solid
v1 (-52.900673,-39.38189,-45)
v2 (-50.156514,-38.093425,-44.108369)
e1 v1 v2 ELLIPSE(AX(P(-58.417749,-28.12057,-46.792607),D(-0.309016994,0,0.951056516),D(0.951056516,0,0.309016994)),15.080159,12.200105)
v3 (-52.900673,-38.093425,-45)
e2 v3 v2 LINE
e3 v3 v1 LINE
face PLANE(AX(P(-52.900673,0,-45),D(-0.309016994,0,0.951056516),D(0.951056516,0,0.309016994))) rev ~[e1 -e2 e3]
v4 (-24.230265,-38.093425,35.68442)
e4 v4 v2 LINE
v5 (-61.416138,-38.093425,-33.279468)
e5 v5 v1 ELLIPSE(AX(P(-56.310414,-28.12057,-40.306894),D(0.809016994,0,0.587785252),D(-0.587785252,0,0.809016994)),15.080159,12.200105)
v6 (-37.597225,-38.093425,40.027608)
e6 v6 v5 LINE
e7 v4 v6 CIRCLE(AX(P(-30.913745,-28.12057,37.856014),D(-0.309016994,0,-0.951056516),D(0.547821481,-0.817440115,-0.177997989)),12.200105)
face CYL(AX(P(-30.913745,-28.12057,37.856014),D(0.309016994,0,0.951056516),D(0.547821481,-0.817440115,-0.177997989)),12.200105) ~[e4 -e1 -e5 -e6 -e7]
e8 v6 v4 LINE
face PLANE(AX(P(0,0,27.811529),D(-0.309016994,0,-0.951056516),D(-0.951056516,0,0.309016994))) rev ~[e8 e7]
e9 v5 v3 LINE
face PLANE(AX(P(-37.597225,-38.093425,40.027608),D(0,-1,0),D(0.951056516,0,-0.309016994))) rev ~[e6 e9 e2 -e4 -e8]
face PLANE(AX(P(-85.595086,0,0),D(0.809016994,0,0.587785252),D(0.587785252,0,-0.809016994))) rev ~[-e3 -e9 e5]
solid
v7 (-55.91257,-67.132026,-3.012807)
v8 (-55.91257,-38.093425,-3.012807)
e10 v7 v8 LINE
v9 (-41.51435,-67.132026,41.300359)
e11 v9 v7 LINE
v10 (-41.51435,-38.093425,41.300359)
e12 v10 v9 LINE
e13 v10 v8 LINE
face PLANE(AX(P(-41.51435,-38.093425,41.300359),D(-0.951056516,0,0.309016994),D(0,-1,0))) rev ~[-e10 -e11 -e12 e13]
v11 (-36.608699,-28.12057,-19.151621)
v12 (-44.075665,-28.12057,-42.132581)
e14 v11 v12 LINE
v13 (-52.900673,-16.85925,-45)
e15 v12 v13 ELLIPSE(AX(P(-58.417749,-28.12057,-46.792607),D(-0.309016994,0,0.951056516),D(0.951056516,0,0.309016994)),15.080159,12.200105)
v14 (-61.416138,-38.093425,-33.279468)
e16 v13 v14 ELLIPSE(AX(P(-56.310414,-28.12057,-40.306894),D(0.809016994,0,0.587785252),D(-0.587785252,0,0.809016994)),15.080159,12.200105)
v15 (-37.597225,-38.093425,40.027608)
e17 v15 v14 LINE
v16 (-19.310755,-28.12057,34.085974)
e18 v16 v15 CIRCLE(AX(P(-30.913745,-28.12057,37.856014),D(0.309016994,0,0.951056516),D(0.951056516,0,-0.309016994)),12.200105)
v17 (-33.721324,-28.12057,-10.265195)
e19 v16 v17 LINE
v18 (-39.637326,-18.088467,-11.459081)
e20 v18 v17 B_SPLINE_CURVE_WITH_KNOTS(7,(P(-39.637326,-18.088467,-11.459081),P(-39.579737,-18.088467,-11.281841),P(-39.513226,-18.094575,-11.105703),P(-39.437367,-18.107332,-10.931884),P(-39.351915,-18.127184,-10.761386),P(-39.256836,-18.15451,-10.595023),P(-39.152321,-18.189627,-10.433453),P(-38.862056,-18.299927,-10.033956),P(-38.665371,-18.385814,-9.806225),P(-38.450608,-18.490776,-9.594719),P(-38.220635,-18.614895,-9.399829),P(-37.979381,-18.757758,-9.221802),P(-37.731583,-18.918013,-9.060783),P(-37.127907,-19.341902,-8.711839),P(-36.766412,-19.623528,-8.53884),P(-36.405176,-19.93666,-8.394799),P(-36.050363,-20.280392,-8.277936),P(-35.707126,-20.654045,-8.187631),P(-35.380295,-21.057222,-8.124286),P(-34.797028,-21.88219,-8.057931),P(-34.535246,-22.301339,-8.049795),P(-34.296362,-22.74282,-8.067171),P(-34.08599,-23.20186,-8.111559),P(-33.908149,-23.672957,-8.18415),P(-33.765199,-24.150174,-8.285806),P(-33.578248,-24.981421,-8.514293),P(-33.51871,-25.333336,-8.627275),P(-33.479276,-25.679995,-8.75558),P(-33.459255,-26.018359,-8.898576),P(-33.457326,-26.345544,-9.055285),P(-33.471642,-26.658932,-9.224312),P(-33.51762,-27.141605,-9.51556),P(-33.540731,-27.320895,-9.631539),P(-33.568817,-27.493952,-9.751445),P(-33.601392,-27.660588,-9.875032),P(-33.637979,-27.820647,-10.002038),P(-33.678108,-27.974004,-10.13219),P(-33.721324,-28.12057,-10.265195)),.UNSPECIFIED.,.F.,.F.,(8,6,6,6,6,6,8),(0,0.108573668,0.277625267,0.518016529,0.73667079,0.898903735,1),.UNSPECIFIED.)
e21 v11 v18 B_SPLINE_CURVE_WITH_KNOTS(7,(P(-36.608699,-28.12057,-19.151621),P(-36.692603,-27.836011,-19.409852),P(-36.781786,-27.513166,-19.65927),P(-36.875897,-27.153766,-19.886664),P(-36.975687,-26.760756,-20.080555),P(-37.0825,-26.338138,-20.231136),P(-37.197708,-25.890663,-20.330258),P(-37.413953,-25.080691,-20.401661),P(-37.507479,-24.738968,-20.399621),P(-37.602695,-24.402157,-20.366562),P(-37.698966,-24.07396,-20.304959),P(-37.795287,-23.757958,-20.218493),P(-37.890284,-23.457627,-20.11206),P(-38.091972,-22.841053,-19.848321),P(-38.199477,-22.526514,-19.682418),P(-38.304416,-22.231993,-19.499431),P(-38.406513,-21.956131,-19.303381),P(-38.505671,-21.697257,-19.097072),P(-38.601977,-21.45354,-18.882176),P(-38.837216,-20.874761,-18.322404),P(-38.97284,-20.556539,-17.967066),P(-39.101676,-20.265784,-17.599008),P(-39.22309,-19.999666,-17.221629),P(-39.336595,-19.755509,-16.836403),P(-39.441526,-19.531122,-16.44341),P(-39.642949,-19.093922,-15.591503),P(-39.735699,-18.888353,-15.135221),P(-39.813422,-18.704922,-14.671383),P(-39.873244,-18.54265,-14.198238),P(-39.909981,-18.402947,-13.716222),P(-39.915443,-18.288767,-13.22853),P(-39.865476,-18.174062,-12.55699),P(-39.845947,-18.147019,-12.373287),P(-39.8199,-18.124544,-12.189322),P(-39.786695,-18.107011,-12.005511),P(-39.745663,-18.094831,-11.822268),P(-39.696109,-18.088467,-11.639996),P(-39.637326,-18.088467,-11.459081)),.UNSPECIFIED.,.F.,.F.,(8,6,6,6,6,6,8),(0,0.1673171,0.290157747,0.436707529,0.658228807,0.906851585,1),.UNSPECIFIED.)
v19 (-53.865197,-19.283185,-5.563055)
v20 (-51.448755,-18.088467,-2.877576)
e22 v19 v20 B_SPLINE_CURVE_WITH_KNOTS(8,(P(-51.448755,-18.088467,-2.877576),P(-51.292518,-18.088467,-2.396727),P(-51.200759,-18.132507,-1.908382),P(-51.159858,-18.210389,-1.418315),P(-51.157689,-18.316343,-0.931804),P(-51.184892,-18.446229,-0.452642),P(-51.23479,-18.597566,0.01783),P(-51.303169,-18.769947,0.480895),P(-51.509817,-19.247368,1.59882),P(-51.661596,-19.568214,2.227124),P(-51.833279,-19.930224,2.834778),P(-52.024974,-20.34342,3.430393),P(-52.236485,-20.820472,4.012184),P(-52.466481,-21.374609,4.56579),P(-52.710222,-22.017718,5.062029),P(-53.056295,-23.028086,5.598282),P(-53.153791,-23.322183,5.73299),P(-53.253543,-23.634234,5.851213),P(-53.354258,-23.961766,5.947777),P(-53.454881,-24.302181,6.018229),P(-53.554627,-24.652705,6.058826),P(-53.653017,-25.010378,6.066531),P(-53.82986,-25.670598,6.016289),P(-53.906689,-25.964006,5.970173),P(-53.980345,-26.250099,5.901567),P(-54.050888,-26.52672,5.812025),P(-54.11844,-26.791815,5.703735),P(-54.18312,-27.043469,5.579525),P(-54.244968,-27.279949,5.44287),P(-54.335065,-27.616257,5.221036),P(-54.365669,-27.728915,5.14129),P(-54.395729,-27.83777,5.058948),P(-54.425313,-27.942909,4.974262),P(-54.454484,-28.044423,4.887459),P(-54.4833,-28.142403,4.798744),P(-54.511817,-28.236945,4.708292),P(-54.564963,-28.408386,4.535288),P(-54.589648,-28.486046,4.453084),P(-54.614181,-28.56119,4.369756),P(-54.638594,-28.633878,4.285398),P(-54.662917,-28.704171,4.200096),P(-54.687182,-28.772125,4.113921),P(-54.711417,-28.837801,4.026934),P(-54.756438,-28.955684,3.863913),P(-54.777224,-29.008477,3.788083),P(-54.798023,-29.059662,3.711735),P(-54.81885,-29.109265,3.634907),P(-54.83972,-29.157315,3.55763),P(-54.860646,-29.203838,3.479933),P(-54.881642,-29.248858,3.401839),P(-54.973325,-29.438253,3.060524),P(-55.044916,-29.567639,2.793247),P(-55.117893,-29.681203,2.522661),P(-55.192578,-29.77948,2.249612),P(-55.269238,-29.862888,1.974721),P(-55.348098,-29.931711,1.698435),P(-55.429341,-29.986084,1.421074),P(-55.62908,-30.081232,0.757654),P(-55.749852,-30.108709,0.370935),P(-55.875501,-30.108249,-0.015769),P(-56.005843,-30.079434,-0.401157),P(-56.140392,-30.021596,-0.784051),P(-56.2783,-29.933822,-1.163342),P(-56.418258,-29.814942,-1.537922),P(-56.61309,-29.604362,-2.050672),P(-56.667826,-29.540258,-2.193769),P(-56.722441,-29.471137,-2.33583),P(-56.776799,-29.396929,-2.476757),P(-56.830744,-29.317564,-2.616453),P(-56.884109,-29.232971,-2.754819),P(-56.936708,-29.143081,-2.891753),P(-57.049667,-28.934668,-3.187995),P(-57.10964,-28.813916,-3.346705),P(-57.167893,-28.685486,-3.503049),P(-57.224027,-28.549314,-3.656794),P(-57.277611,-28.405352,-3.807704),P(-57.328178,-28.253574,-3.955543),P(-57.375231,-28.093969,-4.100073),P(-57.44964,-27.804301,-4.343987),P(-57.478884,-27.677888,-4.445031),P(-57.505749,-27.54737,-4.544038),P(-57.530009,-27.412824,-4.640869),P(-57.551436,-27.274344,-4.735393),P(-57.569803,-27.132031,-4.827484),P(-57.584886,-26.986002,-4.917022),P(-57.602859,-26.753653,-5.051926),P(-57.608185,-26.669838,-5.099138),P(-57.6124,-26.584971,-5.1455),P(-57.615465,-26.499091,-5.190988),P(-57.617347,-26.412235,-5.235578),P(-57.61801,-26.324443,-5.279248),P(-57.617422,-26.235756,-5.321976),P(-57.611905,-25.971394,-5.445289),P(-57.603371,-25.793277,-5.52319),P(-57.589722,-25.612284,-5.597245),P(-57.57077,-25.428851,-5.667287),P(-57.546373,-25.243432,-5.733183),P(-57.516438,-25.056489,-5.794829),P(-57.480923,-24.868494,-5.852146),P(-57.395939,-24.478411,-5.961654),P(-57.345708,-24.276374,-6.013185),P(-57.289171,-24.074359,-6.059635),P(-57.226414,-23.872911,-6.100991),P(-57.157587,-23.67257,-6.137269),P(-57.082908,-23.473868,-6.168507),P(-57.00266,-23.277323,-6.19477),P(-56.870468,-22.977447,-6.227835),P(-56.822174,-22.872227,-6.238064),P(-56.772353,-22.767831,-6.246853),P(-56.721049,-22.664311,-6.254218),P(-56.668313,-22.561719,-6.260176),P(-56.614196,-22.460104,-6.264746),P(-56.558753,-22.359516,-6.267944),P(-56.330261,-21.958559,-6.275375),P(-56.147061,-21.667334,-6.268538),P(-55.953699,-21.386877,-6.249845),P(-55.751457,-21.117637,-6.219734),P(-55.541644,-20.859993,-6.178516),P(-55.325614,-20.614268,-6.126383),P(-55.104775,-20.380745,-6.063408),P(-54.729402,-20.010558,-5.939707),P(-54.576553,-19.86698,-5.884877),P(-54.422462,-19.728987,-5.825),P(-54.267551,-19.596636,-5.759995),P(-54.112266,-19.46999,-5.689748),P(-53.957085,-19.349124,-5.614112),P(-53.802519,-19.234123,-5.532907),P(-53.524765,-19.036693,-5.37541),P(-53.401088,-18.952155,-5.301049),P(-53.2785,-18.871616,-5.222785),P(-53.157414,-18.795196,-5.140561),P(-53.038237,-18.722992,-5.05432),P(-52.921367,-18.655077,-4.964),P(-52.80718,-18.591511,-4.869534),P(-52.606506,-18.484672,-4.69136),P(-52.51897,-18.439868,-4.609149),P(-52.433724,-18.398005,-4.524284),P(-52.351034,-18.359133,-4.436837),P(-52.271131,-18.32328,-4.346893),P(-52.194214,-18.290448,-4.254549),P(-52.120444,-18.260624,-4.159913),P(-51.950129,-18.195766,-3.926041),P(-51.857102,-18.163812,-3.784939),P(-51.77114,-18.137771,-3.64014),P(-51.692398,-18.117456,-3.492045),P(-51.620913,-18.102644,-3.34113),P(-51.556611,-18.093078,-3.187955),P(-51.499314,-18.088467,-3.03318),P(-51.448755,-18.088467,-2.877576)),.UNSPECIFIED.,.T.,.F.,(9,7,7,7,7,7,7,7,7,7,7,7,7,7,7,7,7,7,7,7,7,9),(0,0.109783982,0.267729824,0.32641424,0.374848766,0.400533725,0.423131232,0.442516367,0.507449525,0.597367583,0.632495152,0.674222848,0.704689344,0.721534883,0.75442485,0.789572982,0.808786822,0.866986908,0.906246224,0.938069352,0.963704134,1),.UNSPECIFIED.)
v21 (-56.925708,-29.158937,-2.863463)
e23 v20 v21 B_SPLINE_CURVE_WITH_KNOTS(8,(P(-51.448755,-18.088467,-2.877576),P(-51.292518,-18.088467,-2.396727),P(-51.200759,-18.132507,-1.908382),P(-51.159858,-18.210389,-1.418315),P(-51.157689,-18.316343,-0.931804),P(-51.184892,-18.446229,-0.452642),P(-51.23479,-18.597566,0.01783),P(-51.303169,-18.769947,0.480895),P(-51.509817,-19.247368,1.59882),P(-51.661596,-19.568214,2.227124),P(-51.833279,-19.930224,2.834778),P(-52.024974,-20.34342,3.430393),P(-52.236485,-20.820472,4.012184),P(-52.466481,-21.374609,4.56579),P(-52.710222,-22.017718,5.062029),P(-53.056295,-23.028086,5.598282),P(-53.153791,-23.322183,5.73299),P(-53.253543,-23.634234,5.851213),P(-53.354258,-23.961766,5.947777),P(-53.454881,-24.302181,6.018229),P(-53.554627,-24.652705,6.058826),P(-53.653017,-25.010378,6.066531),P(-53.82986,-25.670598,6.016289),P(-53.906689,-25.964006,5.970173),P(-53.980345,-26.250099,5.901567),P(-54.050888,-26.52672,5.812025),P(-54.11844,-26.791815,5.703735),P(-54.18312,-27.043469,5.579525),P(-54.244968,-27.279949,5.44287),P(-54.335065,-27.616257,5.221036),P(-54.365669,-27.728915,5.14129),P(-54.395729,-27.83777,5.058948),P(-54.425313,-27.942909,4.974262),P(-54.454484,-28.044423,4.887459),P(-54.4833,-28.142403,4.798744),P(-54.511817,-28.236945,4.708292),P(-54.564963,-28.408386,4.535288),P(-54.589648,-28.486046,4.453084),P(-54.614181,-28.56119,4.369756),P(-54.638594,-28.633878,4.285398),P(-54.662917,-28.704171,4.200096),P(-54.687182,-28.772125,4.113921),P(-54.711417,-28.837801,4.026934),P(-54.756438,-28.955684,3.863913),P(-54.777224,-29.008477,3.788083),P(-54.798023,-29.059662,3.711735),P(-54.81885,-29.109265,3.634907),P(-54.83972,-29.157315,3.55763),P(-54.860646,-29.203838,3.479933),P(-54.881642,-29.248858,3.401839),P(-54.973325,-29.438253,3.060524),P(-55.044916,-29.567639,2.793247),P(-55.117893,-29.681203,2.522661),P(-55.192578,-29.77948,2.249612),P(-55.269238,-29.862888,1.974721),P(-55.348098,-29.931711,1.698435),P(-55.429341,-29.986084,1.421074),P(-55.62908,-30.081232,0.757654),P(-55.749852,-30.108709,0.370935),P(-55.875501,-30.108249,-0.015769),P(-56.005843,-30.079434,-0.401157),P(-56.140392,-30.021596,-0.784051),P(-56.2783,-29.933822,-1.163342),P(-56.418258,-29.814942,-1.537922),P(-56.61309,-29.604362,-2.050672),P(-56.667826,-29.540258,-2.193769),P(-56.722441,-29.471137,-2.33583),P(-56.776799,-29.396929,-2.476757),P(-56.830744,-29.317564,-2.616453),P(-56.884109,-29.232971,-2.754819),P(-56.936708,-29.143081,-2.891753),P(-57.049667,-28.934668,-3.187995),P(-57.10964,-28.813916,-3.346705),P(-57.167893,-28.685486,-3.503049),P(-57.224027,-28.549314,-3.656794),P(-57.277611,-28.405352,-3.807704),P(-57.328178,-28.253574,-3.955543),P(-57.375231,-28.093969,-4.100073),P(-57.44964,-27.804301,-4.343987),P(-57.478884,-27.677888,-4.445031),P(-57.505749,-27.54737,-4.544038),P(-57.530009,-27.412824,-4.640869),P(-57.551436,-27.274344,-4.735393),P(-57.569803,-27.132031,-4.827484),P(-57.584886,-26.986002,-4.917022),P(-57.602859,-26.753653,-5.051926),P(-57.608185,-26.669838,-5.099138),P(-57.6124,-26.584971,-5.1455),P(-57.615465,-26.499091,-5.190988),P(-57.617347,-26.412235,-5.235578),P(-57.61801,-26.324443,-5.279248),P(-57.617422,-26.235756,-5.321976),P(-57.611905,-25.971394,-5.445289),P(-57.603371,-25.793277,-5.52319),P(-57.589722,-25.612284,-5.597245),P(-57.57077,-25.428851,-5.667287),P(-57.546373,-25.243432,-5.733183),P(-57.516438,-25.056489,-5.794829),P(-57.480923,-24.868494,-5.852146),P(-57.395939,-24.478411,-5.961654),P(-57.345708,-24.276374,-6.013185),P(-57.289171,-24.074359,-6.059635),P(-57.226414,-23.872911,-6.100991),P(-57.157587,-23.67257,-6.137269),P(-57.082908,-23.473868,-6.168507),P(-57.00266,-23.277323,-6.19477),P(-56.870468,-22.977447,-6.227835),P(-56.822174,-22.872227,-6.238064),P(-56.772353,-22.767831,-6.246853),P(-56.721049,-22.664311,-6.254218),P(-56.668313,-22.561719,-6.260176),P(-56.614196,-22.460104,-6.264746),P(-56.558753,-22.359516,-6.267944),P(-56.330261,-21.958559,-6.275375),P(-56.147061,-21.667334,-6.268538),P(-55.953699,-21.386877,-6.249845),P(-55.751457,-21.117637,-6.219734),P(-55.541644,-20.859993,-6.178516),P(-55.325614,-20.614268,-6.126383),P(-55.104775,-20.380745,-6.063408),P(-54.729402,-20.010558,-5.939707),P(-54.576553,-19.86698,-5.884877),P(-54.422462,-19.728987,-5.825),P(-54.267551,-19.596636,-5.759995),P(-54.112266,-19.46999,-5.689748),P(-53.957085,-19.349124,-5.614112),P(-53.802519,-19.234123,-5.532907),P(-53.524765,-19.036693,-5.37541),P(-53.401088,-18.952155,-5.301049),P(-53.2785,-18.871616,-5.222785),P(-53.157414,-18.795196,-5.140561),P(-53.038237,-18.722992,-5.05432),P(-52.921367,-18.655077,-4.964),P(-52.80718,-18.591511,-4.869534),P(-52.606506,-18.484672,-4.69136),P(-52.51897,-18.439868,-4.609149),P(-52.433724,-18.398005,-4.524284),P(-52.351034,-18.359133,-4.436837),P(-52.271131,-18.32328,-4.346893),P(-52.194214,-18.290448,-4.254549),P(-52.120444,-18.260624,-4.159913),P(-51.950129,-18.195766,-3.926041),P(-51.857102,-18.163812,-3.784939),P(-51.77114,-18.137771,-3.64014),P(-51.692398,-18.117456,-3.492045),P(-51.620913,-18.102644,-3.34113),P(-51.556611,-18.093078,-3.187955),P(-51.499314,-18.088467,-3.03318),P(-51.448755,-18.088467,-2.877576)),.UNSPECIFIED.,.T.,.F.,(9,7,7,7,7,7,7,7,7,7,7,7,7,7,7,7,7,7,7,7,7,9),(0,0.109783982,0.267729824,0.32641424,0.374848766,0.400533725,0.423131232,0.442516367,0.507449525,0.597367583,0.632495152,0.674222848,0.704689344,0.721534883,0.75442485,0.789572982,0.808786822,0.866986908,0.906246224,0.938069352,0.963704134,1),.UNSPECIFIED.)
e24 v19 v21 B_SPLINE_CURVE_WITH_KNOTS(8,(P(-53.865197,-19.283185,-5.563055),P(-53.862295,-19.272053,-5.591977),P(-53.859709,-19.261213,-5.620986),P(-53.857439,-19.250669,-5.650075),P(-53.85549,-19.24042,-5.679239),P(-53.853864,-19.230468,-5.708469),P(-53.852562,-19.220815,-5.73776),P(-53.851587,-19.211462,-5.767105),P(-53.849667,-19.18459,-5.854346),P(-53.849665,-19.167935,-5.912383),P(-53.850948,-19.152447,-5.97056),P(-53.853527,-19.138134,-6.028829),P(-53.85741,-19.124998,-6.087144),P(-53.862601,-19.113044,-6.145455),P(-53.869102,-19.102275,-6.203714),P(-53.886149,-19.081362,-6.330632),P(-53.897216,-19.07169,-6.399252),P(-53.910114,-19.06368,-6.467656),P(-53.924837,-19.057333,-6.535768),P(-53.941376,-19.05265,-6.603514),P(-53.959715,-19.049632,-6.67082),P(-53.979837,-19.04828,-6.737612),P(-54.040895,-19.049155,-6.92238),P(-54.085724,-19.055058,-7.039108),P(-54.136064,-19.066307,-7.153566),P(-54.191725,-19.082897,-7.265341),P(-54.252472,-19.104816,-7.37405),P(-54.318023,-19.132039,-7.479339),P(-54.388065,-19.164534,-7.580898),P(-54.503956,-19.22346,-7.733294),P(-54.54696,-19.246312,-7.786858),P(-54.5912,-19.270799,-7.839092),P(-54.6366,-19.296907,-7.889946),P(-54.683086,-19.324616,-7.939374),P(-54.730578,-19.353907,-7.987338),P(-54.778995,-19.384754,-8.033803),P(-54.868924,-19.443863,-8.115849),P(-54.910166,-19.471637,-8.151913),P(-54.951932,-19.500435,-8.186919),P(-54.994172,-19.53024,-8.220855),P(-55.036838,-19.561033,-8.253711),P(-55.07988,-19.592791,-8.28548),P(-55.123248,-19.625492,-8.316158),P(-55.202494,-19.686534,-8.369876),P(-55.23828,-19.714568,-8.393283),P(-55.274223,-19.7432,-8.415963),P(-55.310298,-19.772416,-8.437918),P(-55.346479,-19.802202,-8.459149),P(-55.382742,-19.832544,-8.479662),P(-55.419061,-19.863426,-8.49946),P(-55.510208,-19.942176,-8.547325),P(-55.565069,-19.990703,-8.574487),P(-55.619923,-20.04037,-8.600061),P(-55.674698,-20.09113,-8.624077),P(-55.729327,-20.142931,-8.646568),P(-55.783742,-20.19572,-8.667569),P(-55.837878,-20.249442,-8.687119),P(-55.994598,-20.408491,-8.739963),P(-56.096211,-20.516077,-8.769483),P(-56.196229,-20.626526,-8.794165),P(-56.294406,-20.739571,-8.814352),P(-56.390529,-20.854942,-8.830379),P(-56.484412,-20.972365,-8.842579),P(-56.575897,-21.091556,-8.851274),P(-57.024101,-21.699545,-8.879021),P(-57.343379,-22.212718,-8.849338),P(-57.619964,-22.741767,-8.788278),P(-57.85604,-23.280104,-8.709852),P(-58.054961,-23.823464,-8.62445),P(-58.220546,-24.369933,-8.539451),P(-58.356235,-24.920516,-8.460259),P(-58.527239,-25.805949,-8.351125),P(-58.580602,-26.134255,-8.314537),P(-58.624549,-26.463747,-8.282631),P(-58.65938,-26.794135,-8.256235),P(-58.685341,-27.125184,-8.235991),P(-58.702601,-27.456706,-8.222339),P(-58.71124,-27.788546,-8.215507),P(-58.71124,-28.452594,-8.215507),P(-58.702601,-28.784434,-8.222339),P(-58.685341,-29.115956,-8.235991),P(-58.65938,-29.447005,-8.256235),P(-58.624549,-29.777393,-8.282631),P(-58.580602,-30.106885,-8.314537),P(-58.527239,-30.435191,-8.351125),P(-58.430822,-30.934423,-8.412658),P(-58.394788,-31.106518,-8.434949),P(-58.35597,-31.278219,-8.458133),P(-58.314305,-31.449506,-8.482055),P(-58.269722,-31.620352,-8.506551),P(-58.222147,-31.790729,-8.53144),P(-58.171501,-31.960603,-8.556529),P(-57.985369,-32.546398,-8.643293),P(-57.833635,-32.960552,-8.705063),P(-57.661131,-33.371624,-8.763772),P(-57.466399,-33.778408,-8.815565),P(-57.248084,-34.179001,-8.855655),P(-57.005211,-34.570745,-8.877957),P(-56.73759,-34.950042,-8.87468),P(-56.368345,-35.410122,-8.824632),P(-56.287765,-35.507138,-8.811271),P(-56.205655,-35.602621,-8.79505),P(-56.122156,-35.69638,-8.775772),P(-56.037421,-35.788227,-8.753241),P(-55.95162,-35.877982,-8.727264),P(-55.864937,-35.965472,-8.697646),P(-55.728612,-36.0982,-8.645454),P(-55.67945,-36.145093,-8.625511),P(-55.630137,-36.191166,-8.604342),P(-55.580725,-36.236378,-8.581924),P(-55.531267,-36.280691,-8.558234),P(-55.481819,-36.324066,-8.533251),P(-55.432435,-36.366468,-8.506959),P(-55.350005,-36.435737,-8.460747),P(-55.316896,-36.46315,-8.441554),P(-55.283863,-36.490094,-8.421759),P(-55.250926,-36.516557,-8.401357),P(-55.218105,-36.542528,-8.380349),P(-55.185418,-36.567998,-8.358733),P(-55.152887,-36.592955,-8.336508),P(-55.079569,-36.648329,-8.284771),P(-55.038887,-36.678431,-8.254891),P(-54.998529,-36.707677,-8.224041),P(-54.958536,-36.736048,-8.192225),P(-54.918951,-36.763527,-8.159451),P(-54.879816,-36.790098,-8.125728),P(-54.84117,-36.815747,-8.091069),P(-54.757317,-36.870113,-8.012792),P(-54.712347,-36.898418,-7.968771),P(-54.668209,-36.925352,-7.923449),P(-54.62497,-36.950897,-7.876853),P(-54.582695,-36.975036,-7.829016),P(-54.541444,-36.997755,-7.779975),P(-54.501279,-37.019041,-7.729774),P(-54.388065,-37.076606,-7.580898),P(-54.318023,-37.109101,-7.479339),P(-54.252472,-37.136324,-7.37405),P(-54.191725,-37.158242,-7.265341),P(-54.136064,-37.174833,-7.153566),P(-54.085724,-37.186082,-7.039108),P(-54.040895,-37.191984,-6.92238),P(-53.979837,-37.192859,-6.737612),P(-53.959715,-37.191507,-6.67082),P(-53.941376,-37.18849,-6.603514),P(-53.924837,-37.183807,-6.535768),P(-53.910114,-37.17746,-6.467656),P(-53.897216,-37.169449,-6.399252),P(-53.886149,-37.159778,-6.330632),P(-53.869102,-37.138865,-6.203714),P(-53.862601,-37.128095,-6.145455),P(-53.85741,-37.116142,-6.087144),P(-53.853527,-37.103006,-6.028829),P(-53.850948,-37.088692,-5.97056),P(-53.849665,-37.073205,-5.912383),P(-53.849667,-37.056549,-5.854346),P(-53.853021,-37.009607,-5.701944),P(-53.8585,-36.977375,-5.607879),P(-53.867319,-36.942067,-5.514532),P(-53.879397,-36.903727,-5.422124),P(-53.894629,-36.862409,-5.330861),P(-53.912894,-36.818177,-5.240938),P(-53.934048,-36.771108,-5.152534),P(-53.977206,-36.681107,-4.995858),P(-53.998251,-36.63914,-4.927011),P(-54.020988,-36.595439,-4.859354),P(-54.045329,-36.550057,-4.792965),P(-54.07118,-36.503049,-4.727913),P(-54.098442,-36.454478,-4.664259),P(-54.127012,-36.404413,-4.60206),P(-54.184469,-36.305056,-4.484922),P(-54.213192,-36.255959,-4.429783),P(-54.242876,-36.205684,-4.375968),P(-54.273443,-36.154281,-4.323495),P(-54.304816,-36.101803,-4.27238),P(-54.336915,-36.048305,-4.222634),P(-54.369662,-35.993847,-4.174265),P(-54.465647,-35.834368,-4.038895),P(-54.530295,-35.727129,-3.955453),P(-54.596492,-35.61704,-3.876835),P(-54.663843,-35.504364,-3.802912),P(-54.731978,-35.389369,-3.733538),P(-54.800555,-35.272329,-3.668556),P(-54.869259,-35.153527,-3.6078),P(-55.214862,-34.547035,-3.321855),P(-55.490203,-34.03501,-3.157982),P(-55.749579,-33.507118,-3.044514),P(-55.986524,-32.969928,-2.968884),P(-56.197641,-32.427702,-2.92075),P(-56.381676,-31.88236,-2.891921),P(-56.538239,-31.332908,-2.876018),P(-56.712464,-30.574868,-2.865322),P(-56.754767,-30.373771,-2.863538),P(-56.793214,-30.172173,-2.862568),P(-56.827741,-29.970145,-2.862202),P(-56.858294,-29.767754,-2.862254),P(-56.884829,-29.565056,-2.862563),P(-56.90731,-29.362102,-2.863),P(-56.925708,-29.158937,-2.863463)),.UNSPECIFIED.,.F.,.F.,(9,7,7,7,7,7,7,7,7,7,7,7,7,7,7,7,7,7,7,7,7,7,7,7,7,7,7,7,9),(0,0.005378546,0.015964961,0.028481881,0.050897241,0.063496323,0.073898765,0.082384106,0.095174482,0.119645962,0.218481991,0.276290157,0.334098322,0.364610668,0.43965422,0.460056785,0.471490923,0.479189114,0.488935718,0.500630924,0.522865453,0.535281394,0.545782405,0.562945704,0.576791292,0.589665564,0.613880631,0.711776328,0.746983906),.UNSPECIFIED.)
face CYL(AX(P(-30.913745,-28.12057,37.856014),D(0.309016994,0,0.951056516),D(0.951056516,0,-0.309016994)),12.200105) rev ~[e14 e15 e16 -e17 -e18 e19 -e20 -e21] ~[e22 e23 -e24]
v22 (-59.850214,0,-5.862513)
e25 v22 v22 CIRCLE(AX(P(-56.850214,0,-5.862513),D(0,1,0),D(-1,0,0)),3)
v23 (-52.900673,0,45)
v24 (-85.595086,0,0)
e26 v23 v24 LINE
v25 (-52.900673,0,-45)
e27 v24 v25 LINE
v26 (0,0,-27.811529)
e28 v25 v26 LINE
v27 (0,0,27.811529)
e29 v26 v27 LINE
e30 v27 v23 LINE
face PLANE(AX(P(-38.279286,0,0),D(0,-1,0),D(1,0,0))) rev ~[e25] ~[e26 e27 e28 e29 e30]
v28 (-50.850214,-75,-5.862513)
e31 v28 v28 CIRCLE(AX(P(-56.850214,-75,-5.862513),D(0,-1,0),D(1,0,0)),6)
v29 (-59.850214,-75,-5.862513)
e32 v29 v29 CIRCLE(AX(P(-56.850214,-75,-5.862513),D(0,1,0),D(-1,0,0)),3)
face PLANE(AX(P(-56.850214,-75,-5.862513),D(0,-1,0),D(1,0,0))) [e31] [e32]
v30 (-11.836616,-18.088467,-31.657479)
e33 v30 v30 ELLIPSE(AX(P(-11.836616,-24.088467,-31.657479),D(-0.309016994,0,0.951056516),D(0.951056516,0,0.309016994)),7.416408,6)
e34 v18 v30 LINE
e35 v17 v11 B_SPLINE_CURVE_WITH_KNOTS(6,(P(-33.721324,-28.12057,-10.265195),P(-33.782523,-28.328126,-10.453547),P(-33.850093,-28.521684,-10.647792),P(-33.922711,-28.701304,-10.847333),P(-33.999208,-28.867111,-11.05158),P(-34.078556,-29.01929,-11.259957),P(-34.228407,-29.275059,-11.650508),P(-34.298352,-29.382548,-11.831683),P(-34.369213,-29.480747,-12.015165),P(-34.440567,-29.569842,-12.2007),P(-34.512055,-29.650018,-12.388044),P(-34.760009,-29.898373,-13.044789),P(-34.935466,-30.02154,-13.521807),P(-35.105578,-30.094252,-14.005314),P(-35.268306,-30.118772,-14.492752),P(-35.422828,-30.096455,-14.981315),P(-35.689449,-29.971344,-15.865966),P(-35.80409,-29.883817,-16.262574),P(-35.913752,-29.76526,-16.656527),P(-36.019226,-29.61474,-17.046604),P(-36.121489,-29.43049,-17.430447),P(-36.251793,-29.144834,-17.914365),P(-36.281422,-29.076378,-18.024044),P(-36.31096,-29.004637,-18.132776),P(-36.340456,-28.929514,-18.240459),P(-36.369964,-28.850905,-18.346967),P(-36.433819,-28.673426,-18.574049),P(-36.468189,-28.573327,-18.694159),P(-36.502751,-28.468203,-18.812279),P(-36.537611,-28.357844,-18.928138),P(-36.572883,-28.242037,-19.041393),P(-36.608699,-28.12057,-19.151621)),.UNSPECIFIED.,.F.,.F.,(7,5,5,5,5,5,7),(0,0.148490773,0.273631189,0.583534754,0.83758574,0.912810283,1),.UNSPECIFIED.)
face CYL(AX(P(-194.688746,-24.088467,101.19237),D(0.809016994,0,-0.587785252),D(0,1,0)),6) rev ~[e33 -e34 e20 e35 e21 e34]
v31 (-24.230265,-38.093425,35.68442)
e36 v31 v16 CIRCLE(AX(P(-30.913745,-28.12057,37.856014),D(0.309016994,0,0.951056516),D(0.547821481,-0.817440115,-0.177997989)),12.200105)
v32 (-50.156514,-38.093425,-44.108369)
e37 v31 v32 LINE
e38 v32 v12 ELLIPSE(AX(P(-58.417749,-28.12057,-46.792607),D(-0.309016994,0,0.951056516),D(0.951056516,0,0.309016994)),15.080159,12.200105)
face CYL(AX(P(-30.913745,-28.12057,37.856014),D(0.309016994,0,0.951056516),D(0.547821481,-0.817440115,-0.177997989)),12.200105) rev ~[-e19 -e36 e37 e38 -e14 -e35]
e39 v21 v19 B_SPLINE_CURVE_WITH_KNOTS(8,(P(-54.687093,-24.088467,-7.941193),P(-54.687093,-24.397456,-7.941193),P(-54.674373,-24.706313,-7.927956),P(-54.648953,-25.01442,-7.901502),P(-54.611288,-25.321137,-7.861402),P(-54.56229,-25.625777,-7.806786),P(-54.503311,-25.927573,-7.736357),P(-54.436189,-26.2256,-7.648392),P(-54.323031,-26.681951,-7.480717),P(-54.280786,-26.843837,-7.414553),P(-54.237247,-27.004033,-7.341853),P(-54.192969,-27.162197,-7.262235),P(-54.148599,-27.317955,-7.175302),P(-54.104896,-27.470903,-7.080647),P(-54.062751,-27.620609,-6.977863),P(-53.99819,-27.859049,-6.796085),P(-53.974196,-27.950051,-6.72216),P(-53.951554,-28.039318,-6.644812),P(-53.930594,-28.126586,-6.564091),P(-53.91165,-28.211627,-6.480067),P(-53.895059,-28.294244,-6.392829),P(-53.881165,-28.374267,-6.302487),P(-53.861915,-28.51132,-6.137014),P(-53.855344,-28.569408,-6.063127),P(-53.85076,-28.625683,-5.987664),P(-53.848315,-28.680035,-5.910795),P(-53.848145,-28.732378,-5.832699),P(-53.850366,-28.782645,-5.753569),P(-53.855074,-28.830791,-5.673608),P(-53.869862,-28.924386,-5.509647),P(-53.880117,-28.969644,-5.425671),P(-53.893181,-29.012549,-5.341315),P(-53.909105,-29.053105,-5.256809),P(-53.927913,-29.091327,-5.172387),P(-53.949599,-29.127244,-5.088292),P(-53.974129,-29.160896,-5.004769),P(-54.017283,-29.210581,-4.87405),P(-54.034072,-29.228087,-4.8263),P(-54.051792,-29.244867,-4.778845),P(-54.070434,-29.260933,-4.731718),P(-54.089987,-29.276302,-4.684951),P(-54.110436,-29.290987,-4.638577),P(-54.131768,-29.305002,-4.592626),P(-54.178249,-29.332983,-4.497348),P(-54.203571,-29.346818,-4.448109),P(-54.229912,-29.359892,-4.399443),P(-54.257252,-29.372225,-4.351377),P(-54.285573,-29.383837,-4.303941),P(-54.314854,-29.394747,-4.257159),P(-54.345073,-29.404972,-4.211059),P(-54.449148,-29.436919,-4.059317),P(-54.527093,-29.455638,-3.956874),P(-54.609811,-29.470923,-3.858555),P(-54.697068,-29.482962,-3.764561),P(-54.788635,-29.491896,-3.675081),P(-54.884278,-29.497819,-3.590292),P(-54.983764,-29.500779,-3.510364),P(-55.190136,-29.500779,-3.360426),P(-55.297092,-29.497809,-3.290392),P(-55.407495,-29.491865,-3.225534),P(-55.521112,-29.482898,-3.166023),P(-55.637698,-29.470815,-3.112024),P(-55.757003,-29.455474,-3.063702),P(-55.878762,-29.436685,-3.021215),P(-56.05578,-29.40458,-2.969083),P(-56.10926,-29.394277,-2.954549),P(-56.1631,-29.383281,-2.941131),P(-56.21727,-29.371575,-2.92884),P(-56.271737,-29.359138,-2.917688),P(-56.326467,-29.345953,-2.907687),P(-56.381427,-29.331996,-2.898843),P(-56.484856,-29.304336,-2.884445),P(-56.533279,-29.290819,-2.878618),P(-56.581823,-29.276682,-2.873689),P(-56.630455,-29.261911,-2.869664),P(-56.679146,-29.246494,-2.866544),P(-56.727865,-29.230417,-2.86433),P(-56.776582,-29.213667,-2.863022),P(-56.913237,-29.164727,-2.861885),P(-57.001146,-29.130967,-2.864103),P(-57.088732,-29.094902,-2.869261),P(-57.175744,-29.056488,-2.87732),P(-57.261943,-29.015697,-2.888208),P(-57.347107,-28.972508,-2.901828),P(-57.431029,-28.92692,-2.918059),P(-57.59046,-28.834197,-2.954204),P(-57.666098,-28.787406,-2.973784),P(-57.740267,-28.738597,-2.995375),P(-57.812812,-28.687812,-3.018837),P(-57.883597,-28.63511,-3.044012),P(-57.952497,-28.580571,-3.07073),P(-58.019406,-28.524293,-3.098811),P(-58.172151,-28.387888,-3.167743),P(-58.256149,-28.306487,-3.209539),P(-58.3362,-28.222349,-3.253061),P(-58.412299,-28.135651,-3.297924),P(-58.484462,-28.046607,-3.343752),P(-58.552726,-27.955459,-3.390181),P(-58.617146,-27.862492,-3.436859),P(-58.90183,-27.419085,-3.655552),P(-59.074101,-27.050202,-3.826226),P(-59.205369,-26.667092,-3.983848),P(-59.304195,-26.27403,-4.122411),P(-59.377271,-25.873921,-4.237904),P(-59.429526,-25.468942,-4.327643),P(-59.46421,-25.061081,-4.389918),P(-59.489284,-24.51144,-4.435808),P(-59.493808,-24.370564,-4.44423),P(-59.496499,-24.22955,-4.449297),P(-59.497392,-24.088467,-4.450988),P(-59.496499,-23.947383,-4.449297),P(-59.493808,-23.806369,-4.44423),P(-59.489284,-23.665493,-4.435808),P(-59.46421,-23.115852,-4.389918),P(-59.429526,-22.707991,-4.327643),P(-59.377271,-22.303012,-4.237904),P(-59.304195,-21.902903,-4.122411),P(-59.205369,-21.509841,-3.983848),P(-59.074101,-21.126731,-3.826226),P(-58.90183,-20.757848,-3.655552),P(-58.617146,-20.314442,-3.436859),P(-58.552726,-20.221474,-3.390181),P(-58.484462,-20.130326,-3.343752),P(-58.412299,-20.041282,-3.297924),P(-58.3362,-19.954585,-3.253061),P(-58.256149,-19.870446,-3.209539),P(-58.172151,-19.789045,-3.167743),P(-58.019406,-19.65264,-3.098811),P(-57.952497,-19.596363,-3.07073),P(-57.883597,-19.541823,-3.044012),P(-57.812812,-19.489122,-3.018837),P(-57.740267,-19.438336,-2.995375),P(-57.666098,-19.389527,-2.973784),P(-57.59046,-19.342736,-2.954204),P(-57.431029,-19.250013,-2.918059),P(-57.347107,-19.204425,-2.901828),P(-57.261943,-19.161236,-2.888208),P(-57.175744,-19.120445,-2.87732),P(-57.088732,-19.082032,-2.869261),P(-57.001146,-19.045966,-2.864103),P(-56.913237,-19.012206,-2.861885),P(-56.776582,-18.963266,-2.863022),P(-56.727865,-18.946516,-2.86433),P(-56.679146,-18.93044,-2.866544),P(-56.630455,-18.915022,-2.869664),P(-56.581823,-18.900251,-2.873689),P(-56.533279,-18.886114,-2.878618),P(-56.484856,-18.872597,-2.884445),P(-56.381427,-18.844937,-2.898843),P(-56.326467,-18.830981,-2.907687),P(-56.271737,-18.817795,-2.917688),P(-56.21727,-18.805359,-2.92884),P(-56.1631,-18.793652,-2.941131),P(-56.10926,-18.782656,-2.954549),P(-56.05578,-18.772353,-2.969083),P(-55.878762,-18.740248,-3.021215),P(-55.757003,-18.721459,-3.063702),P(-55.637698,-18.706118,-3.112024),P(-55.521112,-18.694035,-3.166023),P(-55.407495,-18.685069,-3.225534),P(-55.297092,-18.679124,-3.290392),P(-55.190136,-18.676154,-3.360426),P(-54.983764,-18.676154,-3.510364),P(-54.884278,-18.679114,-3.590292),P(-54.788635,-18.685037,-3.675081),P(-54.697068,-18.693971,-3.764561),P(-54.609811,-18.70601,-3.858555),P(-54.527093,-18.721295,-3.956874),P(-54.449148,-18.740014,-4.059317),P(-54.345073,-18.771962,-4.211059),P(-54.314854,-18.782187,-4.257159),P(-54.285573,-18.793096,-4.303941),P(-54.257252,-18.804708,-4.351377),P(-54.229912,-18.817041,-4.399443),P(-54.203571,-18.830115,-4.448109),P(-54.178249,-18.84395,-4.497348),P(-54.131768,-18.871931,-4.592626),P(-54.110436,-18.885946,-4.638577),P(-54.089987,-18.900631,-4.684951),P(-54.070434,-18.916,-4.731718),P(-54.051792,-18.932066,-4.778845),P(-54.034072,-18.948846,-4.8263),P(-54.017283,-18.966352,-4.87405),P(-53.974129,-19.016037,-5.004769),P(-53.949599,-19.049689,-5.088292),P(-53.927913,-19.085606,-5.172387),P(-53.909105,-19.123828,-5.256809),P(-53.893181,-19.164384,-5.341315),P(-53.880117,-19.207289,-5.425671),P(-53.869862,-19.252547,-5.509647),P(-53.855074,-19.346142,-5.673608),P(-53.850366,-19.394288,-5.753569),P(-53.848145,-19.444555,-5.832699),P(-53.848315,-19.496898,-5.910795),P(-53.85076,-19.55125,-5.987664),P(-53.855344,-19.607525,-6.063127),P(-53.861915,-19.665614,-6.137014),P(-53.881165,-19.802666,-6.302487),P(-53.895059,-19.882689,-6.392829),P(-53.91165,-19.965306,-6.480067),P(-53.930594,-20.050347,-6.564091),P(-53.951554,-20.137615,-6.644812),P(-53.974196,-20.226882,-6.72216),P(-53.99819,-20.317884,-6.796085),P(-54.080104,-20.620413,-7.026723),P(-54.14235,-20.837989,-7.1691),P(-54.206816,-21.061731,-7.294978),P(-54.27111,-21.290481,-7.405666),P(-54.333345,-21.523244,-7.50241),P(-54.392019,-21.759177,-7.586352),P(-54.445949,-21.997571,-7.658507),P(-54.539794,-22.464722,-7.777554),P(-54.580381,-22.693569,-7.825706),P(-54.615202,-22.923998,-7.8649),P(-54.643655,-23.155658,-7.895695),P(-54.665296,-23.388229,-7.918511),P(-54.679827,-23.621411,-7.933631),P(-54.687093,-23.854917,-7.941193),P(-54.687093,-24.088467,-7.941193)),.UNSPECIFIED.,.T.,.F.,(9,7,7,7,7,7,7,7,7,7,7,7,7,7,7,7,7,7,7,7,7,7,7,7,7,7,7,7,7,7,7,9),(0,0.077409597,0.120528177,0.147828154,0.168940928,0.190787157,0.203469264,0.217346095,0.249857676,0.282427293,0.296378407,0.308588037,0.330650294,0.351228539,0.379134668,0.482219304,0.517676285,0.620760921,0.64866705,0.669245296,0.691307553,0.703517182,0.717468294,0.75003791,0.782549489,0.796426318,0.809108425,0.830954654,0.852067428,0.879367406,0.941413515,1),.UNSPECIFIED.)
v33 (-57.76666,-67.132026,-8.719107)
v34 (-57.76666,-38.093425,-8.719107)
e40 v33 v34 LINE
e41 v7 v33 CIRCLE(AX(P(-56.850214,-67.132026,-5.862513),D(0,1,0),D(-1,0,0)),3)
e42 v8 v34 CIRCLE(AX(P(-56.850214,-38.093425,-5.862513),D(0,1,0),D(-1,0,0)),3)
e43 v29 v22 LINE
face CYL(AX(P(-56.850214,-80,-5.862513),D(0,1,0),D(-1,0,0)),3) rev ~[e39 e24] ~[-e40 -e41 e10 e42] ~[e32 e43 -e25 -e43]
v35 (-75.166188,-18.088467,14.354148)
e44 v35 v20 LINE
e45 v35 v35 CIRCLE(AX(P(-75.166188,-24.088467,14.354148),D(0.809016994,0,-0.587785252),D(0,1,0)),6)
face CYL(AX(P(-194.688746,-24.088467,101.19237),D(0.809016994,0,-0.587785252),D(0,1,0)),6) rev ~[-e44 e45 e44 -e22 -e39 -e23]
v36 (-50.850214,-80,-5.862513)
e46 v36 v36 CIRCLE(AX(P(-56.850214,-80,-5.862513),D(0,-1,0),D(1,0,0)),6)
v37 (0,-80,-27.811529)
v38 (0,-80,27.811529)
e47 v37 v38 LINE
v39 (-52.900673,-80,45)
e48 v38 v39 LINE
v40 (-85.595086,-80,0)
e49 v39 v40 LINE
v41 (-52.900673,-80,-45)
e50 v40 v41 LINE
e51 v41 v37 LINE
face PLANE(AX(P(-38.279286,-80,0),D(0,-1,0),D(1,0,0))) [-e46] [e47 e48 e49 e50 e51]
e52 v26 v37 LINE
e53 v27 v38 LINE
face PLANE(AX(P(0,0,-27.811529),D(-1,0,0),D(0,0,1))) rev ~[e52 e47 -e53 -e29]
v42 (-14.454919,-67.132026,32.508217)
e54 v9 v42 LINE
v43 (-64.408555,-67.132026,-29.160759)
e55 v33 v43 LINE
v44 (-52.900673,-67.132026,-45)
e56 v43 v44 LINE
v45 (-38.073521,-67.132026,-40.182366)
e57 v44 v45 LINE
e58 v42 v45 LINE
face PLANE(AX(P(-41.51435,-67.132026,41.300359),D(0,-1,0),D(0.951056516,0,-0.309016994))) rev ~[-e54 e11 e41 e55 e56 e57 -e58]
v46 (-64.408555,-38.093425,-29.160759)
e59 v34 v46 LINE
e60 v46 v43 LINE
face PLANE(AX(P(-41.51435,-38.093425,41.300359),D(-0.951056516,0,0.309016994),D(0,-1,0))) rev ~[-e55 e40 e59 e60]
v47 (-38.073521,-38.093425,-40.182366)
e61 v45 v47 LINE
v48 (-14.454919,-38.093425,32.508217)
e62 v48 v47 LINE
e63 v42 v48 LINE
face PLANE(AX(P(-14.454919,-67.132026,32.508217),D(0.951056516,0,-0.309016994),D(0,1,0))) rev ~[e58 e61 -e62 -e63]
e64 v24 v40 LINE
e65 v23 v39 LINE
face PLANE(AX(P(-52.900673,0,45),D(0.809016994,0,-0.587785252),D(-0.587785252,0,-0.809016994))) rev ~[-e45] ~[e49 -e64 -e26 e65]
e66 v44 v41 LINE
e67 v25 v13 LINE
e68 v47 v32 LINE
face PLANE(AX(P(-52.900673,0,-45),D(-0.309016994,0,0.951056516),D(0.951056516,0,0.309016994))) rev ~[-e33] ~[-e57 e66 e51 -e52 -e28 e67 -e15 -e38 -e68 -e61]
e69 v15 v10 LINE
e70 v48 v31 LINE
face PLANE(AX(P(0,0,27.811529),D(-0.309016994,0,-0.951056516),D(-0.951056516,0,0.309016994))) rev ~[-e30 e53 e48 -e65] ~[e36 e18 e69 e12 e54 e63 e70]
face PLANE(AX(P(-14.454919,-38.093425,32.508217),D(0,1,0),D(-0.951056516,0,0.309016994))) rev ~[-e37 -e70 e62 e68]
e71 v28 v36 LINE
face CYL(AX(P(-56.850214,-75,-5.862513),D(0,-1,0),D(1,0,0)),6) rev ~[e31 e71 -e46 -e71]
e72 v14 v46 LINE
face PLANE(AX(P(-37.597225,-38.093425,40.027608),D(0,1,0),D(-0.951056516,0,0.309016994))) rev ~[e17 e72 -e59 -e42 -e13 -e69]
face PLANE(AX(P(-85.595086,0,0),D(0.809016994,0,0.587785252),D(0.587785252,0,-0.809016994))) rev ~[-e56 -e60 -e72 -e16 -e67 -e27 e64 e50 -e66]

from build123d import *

# Parameters (mm, degrees)
F1_DEPTH       = 80
F3_D           = 6
F3_CBORE_D     = 12
F3_CBORE_DEPTH = 5
F5_D           = 12
F7_DEPTH       = 166.21013


with BuildPart() as f1:
    # F0 (on Front) → F1 (new body)
    with BuildSketch(Plane.XZ):
        Polygon((0, -27.8115294937), (0, 27.8115294937), (-52.9006727063, 45), (-85.5950864666, 0), (-52.9006727063, -45), align=None)
    extrude(amount=F1_DEPTH)

    # F3 (through all)
    with Locations(Plane.XZ.offset(80)):
        with Locations((-56.8502135575, -5.8625130914)):
            CounterBoreHole(F3_D / 2, F3_CBORE_D / 2, F3_CBORE_DEPTH)

    # F5 (through all)
    with Locations(Plane(origin=(-56.0227114099, 0, 40.7028823734), x_dir=(0, -1, 0), z_dir=(-0.8090169944, 0, 0.5877852523))):
        with Locations((24.08846654, -32.5688272715)):
            Hole(F5_D / 2)

    # F6 (on face) → F7 (cut)
    with BuildSketch(Plane(origin=(8.1736034401, 0, 25.1557647469), x_dir=(0.9510565163, 0, -0.3090169944), z_dir=(0.3090169944, 0, 0.9510565163))):
        with BuildLine():
            ThreePointArc((-34.071443869, -38.0934253335), (-30.2688677691, -33.737830155), (-28.8987650684, -28.1205698848))
            ThreePointArc((-28.8987650684, -28.1205698848), (-46.7161306073, -17.2905673169), (-48.126296805, -38.0934253335))
            Line((-48.126296805, -38.0934253335), (-34.071443869, -38.0934253335))
        make_face()
        with BuildLine():
            ThreePointArc((-34.071443869, -38.0934253335), (-41.098870337, -40.3206751534), (-48.126296805, -38.0934253335))
            Line((-48.126296805, -38.0934253335), (-52.2450059652, -38.0934253335))
            Line((-52.2450059652, -38.0934253335), (-52.2450059652, -67.1320259571))
            Line((-52.2450059652, -67.1320259571), (-23.7930361181, -67.1320259571))
            Line((-23.7930361181, -67.1320259571), (-23.7930361181, -38.0934253335))
            Line((-23.7930361181, -38.0934253335), (-34.071443869, -38.0934253335))
        make_face()
    extrude(amount=-F7_DEPTH, mode=Mode.SUBTRACT)


solid = f1.part
